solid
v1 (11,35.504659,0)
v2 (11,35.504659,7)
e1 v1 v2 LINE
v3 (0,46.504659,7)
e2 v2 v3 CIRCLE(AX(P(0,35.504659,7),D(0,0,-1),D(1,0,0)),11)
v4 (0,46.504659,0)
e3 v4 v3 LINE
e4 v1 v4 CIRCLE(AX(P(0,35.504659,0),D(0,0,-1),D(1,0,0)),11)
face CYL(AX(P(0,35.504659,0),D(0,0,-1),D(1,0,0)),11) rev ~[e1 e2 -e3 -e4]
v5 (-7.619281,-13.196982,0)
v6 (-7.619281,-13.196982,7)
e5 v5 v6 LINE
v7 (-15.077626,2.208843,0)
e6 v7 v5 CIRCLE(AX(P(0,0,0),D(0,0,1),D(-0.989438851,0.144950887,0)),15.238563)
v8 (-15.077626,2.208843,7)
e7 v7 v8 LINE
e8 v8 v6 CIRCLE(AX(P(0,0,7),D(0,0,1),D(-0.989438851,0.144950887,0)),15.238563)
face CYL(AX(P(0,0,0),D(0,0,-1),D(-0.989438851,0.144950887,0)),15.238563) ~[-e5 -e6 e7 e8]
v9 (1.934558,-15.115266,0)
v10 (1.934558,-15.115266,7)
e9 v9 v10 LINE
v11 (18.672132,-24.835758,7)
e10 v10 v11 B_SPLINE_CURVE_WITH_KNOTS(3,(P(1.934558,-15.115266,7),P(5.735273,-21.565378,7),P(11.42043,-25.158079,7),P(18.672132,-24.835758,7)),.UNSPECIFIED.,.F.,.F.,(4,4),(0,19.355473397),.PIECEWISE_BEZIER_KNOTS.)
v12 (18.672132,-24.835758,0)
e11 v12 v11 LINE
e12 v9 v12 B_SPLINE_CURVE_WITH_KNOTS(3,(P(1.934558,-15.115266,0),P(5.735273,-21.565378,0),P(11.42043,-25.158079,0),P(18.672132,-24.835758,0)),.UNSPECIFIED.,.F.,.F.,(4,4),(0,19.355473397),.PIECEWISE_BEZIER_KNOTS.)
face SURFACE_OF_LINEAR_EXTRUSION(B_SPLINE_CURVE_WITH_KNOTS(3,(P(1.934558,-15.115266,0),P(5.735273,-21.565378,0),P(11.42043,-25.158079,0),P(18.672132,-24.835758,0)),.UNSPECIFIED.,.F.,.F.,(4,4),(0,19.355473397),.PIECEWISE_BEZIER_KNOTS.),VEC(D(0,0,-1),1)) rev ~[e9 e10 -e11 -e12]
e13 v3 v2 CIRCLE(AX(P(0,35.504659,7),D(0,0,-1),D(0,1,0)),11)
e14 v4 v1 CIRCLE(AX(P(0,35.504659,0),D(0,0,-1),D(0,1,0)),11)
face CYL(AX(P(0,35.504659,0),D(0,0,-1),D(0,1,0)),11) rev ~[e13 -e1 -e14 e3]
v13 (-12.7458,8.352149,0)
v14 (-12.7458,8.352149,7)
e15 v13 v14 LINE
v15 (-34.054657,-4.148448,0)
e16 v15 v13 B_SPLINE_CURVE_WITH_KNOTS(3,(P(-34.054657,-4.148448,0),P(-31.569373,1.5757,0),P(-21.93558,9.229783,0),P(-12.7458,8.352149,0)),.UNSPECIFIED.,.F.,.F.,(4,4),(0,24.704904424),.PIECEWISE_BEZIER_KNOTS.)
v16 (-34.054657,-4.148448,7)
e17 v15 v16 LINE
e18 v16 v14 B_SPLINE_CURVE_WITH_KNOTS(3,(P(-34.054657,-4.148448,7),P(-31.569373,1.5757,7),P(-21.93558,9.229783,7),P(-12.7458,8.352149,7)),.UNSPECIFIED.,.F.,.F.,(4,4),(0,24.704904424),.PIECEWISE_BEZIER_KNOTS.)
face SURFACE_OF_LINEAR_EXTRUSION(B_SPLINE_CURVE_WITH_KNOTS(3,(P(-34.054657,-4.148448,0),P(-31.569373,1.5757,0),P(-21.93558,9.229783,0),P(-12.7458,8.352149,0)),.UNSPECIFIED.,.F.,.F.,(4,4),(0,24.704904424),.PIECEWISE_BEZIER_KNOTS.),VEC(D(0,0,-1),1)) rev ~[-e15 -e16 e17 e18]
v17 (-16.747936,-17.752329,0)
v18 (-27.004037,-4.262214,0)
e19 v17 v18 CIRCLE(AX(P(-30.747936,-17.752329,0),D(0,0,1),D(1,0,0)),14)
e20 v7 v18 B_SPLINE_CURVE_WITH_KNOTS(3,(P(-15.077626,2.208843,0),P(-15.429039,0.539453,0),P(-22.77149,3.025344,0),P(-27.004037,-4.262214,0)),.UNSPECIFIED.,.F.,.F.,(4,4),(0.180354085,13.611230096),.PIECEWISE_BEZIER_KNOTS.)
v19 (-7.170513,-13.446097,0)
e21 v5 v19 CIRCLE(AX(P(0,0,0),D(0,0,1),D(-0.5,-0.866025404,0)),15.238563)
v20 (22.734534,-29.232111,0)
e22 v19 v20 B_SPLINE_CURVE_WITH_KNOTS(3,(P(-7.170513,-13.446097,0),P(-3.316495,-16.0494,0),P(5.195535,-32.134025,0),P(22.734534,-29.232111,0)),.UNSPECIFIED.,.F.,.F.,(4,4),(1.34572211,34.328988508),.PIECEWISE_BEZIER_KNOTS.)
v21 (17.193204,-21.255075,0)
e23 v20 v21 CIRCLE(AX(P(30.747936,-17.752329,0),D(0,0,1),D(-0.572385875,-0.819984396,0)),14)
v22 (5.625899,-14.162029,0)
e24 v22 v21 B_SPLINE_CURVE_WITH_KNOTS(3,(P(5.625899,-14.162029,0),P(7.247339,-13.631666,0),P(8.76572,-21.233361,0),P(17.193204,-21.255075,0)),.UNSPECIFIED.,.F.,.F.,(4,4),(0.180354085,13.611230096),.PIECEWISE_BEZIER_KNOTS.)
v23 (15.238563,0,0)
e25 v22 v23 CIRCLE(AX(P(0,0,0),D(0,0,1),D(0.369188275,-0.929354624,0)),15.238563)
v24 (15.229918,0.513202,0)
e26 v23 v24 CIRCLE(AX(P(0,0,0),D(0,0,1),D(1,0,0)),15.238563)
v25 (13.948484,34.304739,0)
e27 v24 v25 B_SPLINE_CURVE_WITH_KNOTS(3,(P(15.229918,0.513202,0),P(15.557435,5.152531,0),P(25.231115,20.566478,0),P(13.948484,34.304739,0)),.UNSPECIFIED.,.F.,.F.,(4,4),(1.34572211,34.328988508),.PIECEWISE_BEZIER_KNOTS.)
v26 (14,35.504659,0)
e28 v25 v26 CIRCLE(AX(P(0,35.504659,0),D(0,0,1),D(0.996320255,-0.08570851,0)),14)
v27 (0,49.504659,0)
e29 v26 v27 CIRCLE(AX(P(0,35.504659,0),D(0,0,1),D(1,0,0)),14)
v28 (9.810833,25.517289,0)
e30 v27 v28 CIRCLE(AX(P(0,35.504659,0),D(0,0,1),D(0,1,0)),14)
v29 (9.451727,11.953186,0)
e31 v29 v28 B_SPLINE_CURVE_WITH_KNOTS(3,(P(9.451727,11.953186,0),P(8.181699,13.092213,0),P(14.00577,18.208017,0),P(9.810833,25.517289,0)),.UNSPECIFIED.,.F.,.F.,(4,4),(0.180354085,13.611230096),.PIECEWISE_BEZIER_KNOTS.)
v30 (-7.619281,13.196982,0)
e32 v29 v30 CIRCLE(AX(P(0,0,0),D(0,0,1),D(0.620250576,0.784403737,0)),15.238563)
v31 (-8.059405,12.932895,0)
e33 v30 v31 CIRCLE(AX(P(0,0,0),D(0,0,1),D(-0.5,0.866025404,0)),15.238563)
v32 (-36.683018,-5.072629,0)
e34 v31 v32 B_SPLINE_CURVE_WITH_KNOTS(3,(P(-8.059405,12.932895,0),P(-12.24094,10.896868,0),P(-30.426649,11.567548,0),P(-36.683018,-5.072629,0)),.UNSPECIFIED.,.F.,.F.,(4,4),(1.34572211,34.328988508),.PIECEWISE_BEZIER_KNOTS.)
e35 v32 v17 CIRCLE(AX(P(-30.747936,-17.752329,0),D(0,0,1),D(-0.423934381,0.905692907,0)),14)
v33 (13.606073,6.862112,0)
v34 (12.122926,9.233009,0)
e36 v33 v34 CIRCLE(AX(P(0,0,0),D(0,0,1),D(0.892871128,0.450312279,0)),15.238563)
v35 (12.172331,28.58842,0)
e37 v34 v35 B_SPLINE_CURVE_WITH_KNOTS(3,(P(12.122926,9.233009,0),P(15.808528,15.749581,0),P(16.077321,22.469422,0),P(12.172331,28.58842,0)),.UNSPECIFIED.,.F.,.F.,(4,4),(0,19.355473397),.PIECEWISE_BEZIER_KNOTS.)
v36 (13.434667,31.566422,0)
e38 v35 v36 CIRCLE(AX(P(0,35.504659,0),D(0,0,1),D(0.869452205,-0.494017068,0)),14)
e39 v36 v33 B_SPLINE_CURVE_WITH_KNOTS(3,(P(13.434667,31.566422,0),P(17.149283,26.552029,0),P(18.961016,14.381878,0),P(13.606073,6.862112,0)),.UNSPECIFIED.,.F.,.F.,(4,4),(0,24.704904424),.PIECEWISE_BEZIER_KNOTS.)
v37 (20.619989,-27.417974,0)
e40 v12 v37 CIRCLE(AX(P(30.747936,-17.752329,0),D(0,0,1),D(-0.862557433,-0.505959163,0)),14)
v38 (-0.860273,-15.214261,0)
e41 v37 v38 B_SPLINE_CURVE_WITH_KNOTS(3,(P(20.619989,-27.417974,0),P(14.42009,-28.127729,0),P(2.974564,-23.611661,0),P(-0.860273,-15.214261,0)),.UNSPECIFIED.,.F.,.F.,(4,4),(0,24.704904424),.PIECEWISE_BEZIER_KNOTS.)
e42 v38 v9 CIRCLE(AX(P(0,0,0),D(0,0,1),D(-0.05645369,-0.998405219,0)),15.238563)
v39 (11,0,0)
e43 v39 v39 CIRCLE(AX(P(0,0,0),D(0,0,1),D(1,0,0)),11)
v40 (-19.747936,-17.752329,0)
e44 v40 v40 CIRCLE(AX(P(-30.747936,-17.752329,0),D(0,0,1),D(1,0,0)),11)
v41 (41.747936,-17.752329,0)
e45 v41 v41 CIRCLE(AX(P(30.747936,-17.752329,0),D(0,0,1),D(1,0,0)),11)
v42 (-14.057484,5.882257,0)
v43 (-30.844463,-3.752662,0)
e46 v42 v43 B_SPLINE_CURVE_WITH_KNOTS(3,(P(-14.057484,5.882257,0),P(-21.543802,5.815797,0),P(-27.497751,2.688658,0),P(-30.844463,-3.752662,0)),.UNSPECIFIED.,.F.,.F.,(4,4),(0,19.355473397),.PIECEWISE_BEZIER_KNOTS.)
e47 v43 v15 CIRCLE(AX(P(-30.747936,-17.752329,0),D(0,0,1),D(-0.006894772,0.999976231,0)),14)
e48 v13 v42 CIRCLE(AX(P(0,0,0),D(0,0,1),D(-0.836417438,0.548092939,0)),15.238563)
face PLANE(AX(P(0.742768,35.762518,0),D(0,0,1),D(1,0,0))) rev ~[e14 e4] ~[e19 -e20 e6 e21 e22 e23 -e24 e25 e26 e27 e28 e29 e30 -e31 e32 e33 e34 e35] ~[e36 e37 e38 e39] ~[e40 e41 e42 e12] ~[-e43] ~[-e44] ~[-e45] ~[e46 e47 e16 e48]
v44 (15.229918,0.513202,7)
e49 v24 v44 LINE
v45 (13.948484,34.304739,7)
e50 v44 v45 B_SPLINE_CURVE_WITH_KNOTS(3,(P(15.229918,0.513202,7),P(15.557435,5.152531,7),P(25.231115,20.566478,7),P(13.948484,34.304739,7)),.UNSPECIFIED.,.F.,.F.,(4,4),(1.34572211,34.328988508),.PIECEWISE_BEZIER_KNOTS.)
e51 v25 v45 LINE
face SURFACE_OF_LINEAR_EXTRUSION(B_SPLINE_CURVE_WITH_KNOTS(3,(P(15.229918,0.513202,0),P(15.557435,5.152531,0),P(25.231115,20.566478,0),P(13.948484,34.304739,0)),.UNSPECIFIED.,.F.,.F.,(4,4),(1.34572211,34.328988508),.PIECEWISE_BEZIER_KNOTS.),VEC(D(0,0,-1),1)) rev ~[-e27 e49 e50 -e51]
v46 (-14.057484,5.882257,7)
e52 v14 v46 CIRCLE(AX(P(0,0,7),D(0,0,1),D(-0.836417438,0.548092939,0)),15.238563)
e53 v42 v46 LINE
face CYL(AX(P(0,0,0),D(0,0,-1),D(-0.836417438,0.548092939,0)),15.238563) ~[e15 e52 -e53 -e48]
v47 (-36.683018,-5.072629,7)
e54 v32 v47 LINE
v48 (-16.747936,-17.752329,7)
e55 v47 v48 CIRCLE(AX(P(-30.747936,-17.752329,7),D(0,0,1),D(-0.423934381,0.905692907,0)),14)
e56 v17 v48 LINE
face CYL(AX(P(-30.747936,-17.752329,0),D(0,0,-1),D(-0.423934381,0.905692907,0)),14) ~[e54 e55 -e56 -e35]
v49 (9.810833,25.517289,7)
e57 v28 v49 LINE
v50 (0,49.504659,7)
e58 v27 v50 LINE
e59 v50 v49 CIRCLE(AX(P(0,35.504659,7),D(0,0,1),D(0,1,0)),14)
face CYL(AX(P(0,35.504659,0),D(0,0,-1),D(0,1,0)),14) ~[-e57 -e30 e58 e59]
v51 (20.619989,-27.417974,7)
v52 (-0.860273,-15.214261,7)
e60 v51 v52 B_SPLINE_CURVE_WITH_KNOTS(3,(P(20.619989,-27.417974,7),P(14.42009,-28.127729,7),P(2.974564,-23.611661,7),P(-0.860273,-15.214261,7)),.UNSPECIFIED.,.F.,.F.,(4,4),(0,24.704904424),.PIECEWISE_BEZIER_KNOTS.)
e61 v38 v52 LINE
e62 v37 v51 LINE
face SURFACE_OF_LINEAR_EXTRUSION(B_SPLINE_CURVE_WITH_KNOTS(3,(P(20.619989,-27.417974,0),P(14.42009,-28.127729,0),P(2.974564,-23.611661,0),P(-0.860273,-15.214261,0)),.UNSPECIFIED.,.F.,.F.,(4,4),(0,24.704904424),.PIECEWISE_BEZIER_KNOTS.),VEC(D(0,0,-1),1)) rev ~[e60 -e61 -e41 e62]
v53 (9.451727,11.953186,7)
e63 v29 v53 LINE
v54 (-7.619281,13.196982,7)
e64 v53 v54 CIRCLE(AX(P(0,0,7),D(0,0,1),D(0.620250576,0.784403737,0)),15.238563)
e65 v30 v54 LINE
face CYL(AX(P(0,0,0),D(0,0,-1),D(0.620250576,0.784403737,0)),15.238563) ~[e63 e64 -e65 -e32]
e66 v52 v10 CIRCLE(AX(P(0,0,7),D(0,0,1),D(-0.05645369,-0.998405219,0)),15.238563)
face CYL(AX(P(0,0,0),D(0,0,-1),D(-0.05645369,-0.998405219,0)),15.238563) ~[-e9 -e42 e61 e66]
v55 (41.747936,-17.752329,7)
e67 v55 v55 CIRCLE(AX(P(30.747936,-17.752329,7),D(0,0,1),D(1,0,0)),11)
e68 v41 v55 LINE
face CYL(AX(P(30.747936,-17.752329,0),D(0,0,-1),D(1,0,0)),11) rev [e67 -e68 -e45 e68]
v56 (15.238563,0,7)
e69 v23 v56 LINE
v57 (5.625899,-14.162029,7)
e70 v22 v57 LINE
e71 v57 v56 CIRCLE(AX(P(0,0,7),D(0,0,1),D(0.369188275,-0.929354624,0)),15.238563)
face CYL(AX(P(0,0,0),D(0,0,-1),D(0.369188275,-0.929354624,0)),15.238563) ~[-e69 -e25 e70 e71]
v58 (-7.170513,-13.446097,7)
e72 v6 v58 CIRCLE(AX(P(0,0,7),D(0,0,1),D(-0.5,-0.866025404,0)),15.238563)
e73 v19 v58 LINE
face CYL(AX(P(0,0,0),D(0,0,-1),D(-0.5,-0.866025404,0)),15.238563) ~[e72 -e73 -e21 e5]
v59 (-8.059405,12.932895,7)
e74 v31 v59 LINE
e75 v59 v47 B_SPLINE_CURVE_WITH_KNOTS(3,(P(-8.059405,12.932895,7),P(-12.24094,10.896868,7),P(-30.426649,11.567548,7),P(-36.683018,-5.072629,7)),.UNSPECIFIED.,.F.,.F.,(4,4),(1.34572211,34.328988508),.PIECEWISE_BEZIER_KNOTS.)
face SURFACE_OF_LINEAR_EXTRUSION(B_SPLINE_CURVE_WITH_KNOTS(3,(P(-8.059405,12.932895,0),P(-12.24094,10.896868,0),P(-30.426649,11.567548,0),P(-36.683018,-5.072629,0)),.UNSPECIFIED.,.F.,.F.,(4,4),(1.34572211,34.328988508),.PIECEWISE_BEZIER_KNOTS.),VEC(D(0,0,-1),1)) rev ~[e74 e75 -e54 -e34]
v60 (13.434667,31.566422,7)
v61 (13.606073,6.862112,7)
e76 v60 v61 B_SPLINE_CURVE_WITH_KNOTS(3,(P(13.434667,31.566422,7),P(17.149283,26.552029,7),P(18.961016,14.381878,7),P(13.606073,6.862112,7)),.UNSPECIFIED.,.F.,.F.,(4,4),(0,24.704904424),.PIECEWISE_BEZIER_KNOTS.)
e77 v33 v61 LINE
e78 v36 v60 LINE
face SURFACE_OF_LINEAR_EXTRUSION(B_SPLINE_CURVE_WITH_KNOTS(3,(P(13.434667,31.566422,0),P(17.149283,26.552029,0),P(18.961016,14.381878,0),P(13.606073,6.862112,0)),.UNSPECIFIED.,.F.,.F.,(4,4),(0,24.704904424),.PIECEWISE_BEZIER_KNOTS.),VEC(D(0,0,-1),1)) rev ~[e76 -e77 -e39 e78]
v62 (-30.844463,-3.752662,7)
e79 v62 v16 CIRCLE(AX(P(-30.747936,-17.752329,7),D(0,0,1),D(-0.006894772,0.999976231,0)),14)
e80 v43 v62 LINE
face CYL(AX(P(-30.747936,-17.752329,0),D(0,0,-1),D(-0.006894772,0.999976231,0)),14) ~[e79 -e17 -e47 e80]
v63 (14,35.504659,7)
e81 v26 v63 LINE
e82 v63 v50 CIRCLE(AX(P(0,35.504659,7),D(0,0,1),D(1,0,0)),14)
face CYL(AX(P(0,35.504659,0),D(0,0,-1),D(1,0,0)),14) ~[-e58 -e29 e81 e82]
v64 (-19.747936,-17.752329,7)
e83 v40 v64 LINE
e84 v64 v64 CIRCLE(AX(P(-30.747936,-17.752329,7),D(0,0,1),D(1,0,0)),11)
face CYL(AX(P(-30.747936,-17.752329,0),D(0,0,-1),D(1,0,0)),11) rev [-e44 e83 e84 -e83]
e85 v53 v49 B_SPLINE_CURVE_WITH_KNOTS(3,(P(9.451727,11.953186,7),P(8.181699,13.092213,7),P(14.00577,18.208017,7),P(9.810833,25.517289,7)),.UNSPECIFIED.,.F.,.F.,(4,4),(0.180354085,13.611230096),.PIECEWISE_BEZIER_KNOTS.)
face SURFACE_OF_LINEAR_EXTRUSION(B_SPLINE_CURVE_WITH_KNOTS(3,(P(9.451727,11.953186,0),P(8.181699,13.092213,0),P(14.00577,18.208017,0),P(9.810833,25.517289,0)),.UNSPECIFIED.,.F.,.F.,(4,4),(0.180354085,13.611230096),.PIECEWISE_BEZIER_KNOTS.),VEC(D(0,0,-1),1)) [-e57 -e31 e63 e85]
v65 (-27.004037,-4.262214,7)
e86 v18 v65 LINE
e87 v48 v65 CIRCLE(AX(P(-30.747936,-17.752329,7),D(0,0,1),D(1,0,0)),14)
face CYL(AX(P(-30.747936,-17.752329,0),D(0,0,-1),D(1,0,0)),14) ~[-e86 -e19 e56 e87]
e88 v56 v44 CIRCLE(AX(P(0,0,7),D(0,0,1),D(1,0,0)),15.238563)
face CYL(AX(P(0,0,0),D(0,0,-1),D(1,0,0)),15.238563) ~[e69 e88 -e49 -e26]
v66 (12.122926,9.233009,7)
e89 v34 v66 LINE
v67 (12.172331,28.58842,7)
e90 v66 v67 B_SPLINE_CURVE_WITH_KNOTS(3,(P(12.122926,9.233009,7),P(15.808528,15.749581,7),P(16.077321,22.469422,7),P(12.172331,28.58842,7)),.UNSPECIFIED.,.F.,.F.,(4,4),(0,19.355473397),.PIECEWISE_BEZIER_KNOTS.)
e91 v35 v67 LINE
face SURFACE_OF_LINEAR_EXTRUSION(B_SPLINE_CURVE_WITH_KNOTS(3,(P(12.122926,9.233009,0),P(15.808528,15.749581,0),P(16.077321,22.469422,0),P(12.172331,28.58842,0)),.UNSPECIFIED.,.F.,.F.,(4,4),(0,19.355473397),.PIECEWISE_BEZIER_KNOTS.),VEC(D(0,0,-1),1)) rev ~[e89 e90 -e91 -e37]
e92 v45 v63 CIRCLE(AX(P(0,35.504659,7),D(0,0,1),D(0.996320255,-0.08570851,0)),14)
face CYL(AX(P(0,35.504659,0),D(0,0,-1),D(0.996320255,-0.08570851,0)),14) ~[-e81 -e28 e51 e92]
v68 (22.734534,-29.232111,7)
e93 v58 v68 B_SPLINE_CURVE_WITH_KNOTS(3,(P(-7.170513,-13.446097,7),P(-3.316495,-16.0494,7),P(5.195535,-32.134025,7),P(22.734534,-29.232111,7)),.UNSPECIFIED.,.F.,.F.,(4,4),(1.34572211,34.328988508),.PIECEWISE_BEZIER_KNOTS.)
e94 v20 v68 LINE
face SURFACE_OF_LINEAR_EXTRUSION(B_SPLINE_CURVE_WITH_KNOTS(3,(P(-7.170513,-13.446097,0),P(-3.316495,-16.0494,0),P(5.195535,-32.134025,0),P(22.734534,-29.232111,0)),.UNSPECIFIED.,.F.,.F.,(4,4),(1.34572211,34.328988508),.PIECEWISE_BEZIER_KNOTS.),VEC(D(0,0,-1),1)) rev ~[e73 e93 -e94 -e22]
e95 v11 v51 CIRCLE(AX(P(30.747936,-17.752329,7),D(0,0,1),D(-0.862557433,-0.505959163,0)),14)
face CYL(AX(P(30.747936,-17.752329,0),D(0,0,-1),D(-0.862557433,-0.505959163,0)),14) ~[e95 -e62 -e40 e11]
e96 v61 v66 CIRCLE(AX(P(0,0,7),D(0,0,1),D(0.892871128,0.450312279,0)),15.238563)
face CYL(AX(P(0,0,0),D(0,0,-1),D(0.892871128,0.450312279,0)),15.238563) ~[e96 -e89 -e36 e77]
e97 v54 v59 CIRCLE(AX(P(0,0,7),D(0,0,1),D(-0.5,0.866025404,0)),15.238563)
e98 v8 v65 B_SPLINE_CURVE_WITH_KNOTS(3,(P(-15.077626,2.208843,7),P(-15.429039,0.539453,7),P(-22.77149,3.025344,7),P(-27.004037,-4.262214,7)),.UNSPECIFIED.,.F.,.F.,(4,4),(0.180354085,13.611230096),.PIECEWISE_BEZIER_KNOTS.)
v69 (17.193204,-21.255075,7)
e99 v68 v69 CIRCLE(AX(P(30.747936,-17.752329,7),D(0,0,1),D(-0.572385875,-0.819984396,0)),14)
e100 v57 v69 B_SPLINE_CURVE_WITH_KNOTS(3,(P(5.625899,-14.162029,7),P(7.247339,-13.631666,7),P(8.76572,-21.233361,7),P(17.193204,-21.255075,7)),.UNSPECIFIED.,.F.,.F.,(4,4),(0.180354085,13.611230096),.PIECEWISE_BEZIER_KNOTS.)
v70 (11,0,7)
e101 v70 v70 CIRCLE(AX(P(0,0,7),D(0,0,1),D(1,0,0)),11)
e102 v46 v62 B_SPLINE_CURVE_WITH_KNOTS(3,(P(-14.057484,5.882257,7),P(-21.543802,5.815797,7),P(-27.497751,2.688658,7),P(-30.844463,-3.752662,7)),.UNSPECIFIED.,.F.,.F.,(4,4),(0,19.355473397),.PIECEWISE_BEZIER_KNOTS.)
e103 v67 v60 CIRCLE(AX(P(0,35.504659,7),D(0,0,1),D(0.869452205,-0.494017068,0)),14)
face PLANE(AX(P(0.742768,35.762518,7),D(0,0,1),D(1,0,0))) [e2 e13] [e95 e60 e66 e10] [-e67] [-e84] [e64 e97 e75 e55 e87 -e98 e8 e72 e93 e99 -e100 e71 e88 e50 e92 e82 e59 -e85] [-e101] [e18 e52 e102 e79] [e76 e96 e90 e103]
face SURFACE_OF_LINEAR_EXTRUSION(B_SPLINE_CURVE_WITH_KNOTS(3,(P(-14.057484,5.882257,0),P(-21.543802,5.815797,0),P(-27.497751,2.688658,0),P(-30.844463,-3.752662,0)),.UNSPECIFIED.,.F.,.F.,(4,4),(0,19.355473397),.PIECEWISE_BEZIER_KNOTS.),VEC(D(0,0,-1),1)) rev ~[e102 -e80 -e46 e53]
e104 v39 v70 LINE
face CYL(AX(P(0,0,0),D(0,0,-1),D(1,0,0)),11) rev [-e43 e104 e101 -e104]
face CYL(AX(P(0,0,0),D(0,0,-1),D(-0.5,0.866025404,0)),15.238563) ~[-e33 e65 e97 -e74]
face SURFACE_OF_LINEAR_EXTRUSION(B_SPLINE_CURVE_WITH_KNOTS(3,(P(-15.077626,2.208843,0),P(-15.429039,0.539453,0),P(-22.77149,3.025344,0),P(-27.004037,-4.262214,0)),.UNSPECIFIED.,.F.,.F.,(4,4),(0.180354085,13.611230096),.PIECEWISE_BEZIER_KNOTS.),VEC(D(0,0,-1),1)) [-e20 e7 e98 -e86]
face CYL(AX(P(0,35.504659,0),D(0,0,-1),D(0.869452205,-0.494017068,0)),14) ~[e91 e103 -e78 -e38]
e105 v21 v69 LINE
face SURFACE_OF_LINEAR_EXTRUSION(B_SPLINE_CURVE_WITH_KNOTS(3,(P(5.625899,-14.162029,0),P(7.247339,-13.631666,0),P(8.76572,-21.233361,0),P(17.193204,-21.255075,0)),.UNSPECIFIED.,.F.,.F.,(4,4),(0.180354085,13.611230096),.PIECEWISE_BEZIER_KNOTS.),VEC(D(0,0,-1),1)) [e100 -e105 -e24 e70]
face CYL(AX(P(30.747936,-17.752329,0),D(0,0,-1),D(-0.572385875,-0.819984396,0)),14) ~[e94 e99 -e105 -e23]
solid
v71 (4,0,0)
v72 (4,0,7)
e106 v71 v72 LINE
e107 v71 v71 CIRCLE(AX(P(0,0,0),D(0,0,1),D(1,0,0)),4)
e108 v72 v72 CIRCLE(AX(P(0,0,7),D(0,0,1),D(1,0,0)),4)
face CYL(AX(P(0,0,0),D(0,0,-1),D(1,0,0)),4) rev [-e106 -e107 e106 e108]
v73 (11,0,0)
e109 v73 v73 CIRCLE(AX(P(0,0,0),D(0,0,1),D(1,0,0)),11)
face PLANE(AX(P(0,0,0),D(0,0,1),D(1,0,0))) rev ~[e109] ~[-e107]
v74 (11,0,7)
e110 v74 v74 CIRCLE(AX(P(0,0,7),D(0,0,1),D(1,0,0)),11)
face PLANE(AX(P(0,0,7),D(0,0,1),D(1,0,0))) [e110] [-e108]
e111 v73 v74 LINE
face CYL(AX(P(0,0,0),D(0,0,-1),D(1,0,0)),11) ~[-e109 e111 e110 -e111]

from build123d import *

# Parameters (mm, degrees)
F0_R     = 11
F0_R_2   = 4
F1_DEPTH = 7
F2_DEPTH = 7


with BuildPart() as f1:
    # F0 (on Top) → F1 (new body)
    with BuildSketch(Plane.XY):
        Circle(F0_R)
        Circle(F0_R_2, mode=Mode.SUBTRACT)
    extrude(amount=F1_DEPTH)


with BuildPart() as f2:
    # F0 (on Top) → F2 (new body)
    with BuildSketch(Plane.XY):
        with BuildLine():
            ThreePointArc((14, 35.5046585807), (9.8994949366, 45.4041535174), (0, 49.5046585807))
            ThreePointArc((0, 49.5046585807), (-12.9580703886, 30.2048084128), (9.8108330751, 25.5172888383))
            ThreePointArc((9.8108330751, 25.5172888383), (11.0983257909, 26.9707752537), (12.1723308709, 28.588419634))
            ThreePointArc((12.1723308709, 28.588419634), (12.8897911228, 30.0408426238), (13.4346674784, 31.566421698))
            ThreePointArc((13.4346674784, 31.566421698), (13.7598632413, 32.9227671072), (13.9484835753, 34.3047394379))
            ThreePointArc((13.9484835753, 34.3047394379), (13.9871149644, 34.904146322), (14, 35.5046585807))
        make_face()
        with BuildLine():
            ThreePointArc((11, 35.5046585807), (-7.7781745931, 27.7264839877), (0, 46.5046585807))
            ThreePointArc((0, 46.5046585807), (7.7781745931, 43.2828331738), (11, 35.5046585807))
        make_face(mode=Mode.SUBTRACT)
        with BuildLine():
            ThreePointArc((12.1723308709, 28.588419634), (11.0983257909, 26.9707752537), (9.8108330751, 25.5172888383))
            add(Edge.make_bspline(
                [(9.4517272848, 11.9531855099), (8.1816991863, 13.0922129173), (14.0057700702, 18.2080167226), (9.8108330751, 25.5172888383)],
                knots=[0.1803540845, 0.1803540845, 0.1803540845, 0.1803540845, 13.6112300964, 13.6112300964, 13.6112300964, 13.6112300964], degree=3))
            ThreePointArc((9.4517272848, 11.9531855099), (9.4792735432, 11.9313522115), (9.5067693672, 11.9094554326))
            ThreePointArc((9.5067693672, 11.9094554326), (10.8973285777, 10.6518553487), (12.122925882, 9.2330092906))
            add(Edge.make_bspline(
                [(12.122925882, 9.2330092906), (15.8085282892, 15.7495811582), (16.0773210227, 22.4694218487), (12.1723308709, 28.588419634)],
                knots=[0, 0, 0, 0, 19.3554733968, 19.3554733968, 19.3554733968, 19.3554733968], degree=3))
        make_face()
        with BuildLine():
            add(Edge.make_bspline(
                [(15.2299184457, 0.5132023359), (15.5574350677, 5.1525312386), (25.2311147708, 20.5664775316), (13.9484835753, 34.3047394379)],
                knots=[1.3457221099, 1.3457221099, 1.3457221099, 1.3457221099, 34.3289885081, 34.3289885081, 34.3289885081, 34.3289885081], degree=3))
            ThreePointArc((13.9484835753, 34.3047394379), (13.7598632413, 32.9227671072), (13.4346674784, 31.566421698))
            add(Edge.make_bspline(
                [(13.4346674784, 31.566421698), (17.1492826194, 26.552028954), (18.9610160887, 14.381878078), (13.6060726459, 6.8621118948)],
                knots=[0, 0, 0, 0, 24.7049044237, 24.7049044237, 24.7049044237, 24.7049044237], degree=3))
            ThreePointArc((13.6060726459, 6.8621118948), (14.7633247849, 3.7759811699), (15.2299184457, 0.5132023359))
        make_face()
        with BuildLine():
            add(Edge.make_bspline(
                [(9.5067693672, 11.9094554326), (9.4871151753, 11.923312155), (9.468781627, 11.9378902868), (9.4517272848, 11.9531855099)],
                knots=[0, 0, 0, 0, 0.1803540845, 0.1803540845, 0.1803540845, 0.1803540845], degree=3))
            ThreePointArc((9.4517272848, 11.9531855099), (1.1073491815, 15.1982752407), (-7.6192813392, 13.1969823966))
            add(Edge.make_bspline(
                [(-7.6192813392, 13.1969823966), (-7.7415030756, 13.1035412064), (-7.8887982414, 13.0159652933), (-8.059405483, 12.9328951036)],
                knots=[0, 0, 0, 0, 1.3457221099, 1.3457221099, 1.3457221099, 1.3457221099], degree=3))
            ThreePointArc((-8.059405483, 12.9328951036), (-10.6517580098, 10.8974237231), (-12.7457995474, 8.3521486097))
            ThreePointArc((-12.7457995474, 8.3521486097), (-13.458420674, 7.1473565367), (-14.05748354, 5.8822571367))
            ThreePointArc((-14.05748354, 5.8822571367), (-14.6734416183, 4.1114357074), (-15.0672756334, 2.2783760636))
            add(Edge.make_bspline(
                [(-15.0672756334, 2.2783760636), (-15.0694488111, 2.2544266729), (-15.0729070695, 2.2312602885), (-15.0776259502, 2.2088431833)],
                knots=[0, 0, 0, 0, 0.1803540845, 0.1803540845, 0.1803540845, 0.1803540845], degree=3))
            ThreePointArc((-15.0776259502, 2.2088431833), (-13.7157670429, -6.6401450983), (-7.6192813392, -13.1969823966))
            add(Edge.make_bspline(
                [(-7.6192813392, -13.1969823966), (-7.4772480265, -13.2561089301), (-7.3277574781, -13.339882329), (-7.1705129627, -13.4460974395)],
                knots=[0, 0, 0, 0, 1.3457221099, 1.3457221099, 1.3457221099, 1.3457221099], degree=3))
            ThreePointArc((-7.1705129627, -13.4460974395), (-4.1115667751, -14.673404893), (-0.8602730984, -15.2142605045))
            ThreePointArc((-0.8602730984, -15.2142605045), (0.5394180063, -15.2290124669), (1.934557658, -15.1152664273))
            ThreePointArc((1.934557658, -15.1152664273), (3.7761130406, -14.7632910561), (5.5605062662, -14.1878314962))
            add(Edge.make_bspline(
                [(5.5605062662, -14.1878314962), (5.5823336358, -14.1777388279), (5.6041254425, -14.1691505753), (5.6258986653, -14.1620286933)],
                knots=[0, 0, 0, 0, 0.1803540845, 0.1803540845, 0.1803540845, 0.1803540845], degree=3))
            ThreePointArc((5.6258986653, -14.1620286933), (12.6084178614, -8.5581301424), (15.2385626783, 0))
            add(Edge.make_bspline(
                [(15.2385626783, 0), (15.2187511021, 0.1525677237), (15.2165557195, 0.3239170357), (15.2299184457, 0.5132023359)],
                knots=[0, 0, 0, 0, 1.3457221099, 1.3457221099, 1.3457221099, 1.3457221099], degree=3))
            ThreePointArc((15.2299184457, 0.5132023359), (14.7633247849, 3.7759811699), (13.6060726459, 6.8621118948))
            ThreePointArc((13.6060726459, 6.8621118948), (12.9190026677, 8.0816559302), (12.122925882, 9.2330092906))
            ThreePointArc((12.122925882, 9.2330092906), (10.8973285777, 10.6518553487), (9.5067693672, 11.9094554326))
        make_face()
        Circle(F0_R, mode=Mode.SUBTRACT)
        with BuildLine():
            ThreePointArc((9.5067693672, 11.9094554326), (9.4792735432, 11.9313522115), (9.4517272848, 11.9531855099))
            add(Edge.make_bspline(
                [(9.5067693672, 11.9094554326), (9.4871151753, 11.923312155), (9.468781627, 11.9378902868), (9.4517272848, 11.9531855099)],
                knots=[0, 0, 0, 0, 0.1803540845, 0.1803540845, 0.1803540845, 0.1803540845], degree=3))
        make_face()
        with BuildLine():
            ThreePointArc((15.2385626783, 0), (15.2364014669, 0.2566375656), (15.2299184457, 0.5132023359))
            add(Edge.make_bspline(
                [(15.2385626783, 0), (15.2187511021, 0.1525677237), (15.2165557195, 0.3239170357), (15.2299184457, 0.5132023359)],
                knots=[0, 0, 0, 0, 1.3457221099, 1.3457221099, 1.3457221099, 1.3457221099], degree=3))
        make_face()
        with BuildLine():
            add(Edge.make_bspline(
                [(-7.6192813392, 13.1969823966), (-7.7415030756, 13.1035412064), (-7.8887982414, 13.0159652933), (-8.059405483, 12.9328951036)],
                knots=[0, 0, 0, 0, 1.3457221099, 1.3457221099, 1.3457221099, 1.3457221099], degree=3))
            ThreePointArc((-7.6192813392, 13.1969823966), (-7.8404553848, 13.0667919498), (-8.059405483, 12.9328951036))
        make_face()
        with BuildLine():
            ThreePointArc((-12.7457995474, 8.3521486097), (-10.6517580098, 10.8974237231), (-8.059405483, 12.9328951036))
            add(Edge.make_bspline(
                [(-8.059405483, 12.9328951036), (-12.2409404802, 10.896868367), (-30.4266493942, 11.5675475915), (-36.683017611, -5.0726285984)],
                knots=[1.3457221099, 1.3457221099, 1.3457221099, 1.3457221099, 34.3289885081, 34.3289885081, 34.3289885081, 34.3289885081], degree=3))
            ThreePointArc((-36.683017611, -5.0726285984), (-35.3918842983, -4.544992434), (-34.0546568363, -4.1484475213))
            add(Edge.make_bspline(
                [(-34.0546568363, -4.1484475213), (-31.5693729059, 1.575699928), (-21.935579814, 9.2297825754), (-12.7457995474, 8.3521486097)],
                knots=[0, 0, 0, 0, 24.7049044237, 24.7049044237, 24.7049044237, 24.7049044237], degree=3))
        make_face()
        with BuildLine():
            add(Edge.make_bspline(
                [(5.6258986653, -14.1620286933), (7.247339385, -13.6316658001), (8.7657199992, -21.2333610417), (17.1932038321, -21.2550750945)],
                knots=[0.1803540845, 0.1803540845, 0.1803540845, 0.1803540845, 13.6112300964, 13.6112300964, 13.6112300964, 13.6112300964], degree=3))
            ThreePointArc((5.6258986653, -14.1620286933), (5.5932173451, -14.1749678036), (5.5605062662, -14.1878314962))
            ThreePointArc((5.5605062662, -14.1878314962), (3.7761130406, -14.7632910561), (1.934557658, -15.1152664273))
            add(Edge.make_bspline(
                [(1.934557658, -15.1152664273), (5.7352732373, -21.565377674), (11.4204296179, -25.1580793548), (18.6721322216, -24.8357575745)],
                knots=[0, 0, 0, 0, 19.3554733968, 19.3554733968, 19.3554733968, 19.3554733968], degree=3))
            ThreePointArc((18.6721322216, -24.8357575745), (17.808213634, -23.0968197012), (17.1932038321, -21.2550750945))
        make_face()
        with BuildLine():
            ThreePointArc((5.5605062662, -14.1878314962), (5.5932173451, -14.1749678036), (5.6258986653, -14.1620286933))
            add(Edge.make_bspline(
                [(5.5605062662, -14.1878314962), (5.5823336358, -14.1777388279), (5.6041254425, -14.1691505753), (5.6258986653, -14.1620286933)],
                knots=[0, 0, 0, 0, 0.1803540845, 0.1803540845, 0.1803540845, 0.1803540845], degree=3))
        make_face()
        with BuildLine():
            ThreePointArc((-34.0546568363, -4.1484475213), (-35.3918842983, -4.544992434), (-36.683017611, -5.0726285984))
            ThreePointArc((-36.683017611, -5.0726285984), (-38.2615526372, -29.5652700458), (-16.7479362836, -17.7523292904))
            ThreePointArc((-16.7479362836, -17.7523292904), (-19.603103596, -9.2792717333), (-27.0040369072, -4.2622137438))
            ThreePointArc((-27.0040369072, -4.2622137438), (-28.9065394249, -3.8739555525), (-30.8444630925, -3.7526620595))
            ThreePointArc((-30.8444630925, -3.7526620595), (-32.4610284247, -3.8575347501), (-34.0546568363, -4.1484475213))
        make_face()
        with Locations((-30.7479362836, -17.7523292904)):
            Circle(F0_R, mode=Mode.SUBTRACT)
        with BuildLine():
            ThreePointArc((44.7479362836, -17.7523292904), (28.9824695353, -3.8640922834), (17.1932038321, -21.2550750945))
            ThreePointArc((17.1932038321, -21.2550750945), (17.808213634, -23.0968197012), (18.6721322216, -24.8357575745))
            ThreePointArc((18.6721322216, -24.8357575745), (19.5712373019, -26.1833078737), (20.6199893579, -27.4179741767))
            ThreePointArc((20.6199893579, -27.4179741767), (21.6320210571, -28.3777746731), (22.7345340357, -29.2321108394))
            ThreePointArc((22.7345340357, -29.2321108394), (37.2214348945, -30.1657823045), (44.7479362836, -17.7523292904))
        make_face()
        with Locations((30.7479362836, -17.7523292904)):
            Circle(F0_R, mode=Mode.SUBTRACT)
        with BuildLine():
            ThreePointArc((-15.0672756334, 2.2783760636), (-14.6734416183, 4.1114357074), (-14.05748354, 5.8822571367))
            add(Edge.make_bspline(
                [(-14.05748354, 5.8822571367), (-21.5438015265, 5.8157965158), (-27.4977506407, 2.6886575062), (-30.8444630925, -3.7526620595)],
                knots=[0, 0, 0, 0, 19.3554733968, 19.3554733968, 19.3554733968, 19.3554733968], degree=3))
            ThreePointArc((-30.8444630925, -3.7526620595), (-28.9065394249, -3.8739555525), (-27.0040369072, -4.2622137438))
            add(Edge.make_bspline(
                [(-15.0776259502, 2.2088431833), (-15.4290385713, 0.5394528828), (-22.7714900694, 3.025344319), (-27.0040369072, -4.2622137438)],
                knots=[0.1803540845, 0.1803540845, 0.1803540845, 0.1803540845, 13.6112300964, 13.6112300964, 13.6112300964, 13.6112300964], degree=3))
            ThreePointArc((-15.0776259502, 2.2088431833), (-15.0724908883, 2.243615592), (-15.0672756334, 2.2783760636))
        make_face()
        with BuildLine():
            add(Edge.make_bspline(
                [(-15.0672756334, 2.2783760636), (-15.0694488111, 2.2544266729), (-15.0729070695, 2.2312602885), (-15.0776259502, 2.2088431833)],
                knots=[0, 0, 0, 0, 0.1803540845, 0.1803540845, 0.1803540845, 0.1803540845], degree=3))
            ThreePointArc((-15.0672756334, 2.2783760636), (-15.0724908883, 2.243615592), (-15.0776259502, 2.2088431833))
        make_face()
        with BuildLine():
            add(Edge.make_bspline(
                [(20.6199893579, -27.4179741767), (14.4200902865, -28.1277288821), (2.9745637253, -23.6116606534), (-0.8602730984, -15.2142605045)],
                knots=[0, 0, 0, 0, 24.7049044237, 24.7049044237, 24.7049044237, 24.7049044237], degree=3))
            ThreePointArc((-0.8602730984, -15.2142605045), (-4.1115667751, -14.673404893), (-7.1705129627, -13.4460974395))
            add(Edge.make_bspline(
                [(-7.1705129627, -13.4460974395), (-3.3164945874, -16.0493996056), (5.1955346233, -32.1340251231), (22.7345340357, -29.2321108394)],
                knots=[1.3457221099, 1.3457221099, 1.3457221099, 1.3457221099, 34.3289885081, 34.3289885081, 34.3289885081, 34.3289885081], degree=3))
            ThreePointArc((22.7345340357, -29.2321108394), (21.6320210571, -28.3777746731), (20.6199893579, -27.4179741767))
        make_face()
        with BuildLine():
            ThreePointArc((-7.6192813392, -13.1969823966), (-7.3959460821, -13.3234295154), (-7.1705129627, -13.4460974395))
            add(Edge.make_bspline(
                [(-7.6192813392, -13.1969823966), (-7.4772480265, -13.2561089301), (-7.3277574781, -13.339882329), (-7.1705129627, -13.4460974395)],
                knots=[0, 0, 0, 0, 1.3457221099, 1.3457221099, 1.3457221099, 1.3457221099], degree=3))
        make_face()
    extrude(amount=F2_DEPTH)


solid = Compound([f1.part, f2.part])
